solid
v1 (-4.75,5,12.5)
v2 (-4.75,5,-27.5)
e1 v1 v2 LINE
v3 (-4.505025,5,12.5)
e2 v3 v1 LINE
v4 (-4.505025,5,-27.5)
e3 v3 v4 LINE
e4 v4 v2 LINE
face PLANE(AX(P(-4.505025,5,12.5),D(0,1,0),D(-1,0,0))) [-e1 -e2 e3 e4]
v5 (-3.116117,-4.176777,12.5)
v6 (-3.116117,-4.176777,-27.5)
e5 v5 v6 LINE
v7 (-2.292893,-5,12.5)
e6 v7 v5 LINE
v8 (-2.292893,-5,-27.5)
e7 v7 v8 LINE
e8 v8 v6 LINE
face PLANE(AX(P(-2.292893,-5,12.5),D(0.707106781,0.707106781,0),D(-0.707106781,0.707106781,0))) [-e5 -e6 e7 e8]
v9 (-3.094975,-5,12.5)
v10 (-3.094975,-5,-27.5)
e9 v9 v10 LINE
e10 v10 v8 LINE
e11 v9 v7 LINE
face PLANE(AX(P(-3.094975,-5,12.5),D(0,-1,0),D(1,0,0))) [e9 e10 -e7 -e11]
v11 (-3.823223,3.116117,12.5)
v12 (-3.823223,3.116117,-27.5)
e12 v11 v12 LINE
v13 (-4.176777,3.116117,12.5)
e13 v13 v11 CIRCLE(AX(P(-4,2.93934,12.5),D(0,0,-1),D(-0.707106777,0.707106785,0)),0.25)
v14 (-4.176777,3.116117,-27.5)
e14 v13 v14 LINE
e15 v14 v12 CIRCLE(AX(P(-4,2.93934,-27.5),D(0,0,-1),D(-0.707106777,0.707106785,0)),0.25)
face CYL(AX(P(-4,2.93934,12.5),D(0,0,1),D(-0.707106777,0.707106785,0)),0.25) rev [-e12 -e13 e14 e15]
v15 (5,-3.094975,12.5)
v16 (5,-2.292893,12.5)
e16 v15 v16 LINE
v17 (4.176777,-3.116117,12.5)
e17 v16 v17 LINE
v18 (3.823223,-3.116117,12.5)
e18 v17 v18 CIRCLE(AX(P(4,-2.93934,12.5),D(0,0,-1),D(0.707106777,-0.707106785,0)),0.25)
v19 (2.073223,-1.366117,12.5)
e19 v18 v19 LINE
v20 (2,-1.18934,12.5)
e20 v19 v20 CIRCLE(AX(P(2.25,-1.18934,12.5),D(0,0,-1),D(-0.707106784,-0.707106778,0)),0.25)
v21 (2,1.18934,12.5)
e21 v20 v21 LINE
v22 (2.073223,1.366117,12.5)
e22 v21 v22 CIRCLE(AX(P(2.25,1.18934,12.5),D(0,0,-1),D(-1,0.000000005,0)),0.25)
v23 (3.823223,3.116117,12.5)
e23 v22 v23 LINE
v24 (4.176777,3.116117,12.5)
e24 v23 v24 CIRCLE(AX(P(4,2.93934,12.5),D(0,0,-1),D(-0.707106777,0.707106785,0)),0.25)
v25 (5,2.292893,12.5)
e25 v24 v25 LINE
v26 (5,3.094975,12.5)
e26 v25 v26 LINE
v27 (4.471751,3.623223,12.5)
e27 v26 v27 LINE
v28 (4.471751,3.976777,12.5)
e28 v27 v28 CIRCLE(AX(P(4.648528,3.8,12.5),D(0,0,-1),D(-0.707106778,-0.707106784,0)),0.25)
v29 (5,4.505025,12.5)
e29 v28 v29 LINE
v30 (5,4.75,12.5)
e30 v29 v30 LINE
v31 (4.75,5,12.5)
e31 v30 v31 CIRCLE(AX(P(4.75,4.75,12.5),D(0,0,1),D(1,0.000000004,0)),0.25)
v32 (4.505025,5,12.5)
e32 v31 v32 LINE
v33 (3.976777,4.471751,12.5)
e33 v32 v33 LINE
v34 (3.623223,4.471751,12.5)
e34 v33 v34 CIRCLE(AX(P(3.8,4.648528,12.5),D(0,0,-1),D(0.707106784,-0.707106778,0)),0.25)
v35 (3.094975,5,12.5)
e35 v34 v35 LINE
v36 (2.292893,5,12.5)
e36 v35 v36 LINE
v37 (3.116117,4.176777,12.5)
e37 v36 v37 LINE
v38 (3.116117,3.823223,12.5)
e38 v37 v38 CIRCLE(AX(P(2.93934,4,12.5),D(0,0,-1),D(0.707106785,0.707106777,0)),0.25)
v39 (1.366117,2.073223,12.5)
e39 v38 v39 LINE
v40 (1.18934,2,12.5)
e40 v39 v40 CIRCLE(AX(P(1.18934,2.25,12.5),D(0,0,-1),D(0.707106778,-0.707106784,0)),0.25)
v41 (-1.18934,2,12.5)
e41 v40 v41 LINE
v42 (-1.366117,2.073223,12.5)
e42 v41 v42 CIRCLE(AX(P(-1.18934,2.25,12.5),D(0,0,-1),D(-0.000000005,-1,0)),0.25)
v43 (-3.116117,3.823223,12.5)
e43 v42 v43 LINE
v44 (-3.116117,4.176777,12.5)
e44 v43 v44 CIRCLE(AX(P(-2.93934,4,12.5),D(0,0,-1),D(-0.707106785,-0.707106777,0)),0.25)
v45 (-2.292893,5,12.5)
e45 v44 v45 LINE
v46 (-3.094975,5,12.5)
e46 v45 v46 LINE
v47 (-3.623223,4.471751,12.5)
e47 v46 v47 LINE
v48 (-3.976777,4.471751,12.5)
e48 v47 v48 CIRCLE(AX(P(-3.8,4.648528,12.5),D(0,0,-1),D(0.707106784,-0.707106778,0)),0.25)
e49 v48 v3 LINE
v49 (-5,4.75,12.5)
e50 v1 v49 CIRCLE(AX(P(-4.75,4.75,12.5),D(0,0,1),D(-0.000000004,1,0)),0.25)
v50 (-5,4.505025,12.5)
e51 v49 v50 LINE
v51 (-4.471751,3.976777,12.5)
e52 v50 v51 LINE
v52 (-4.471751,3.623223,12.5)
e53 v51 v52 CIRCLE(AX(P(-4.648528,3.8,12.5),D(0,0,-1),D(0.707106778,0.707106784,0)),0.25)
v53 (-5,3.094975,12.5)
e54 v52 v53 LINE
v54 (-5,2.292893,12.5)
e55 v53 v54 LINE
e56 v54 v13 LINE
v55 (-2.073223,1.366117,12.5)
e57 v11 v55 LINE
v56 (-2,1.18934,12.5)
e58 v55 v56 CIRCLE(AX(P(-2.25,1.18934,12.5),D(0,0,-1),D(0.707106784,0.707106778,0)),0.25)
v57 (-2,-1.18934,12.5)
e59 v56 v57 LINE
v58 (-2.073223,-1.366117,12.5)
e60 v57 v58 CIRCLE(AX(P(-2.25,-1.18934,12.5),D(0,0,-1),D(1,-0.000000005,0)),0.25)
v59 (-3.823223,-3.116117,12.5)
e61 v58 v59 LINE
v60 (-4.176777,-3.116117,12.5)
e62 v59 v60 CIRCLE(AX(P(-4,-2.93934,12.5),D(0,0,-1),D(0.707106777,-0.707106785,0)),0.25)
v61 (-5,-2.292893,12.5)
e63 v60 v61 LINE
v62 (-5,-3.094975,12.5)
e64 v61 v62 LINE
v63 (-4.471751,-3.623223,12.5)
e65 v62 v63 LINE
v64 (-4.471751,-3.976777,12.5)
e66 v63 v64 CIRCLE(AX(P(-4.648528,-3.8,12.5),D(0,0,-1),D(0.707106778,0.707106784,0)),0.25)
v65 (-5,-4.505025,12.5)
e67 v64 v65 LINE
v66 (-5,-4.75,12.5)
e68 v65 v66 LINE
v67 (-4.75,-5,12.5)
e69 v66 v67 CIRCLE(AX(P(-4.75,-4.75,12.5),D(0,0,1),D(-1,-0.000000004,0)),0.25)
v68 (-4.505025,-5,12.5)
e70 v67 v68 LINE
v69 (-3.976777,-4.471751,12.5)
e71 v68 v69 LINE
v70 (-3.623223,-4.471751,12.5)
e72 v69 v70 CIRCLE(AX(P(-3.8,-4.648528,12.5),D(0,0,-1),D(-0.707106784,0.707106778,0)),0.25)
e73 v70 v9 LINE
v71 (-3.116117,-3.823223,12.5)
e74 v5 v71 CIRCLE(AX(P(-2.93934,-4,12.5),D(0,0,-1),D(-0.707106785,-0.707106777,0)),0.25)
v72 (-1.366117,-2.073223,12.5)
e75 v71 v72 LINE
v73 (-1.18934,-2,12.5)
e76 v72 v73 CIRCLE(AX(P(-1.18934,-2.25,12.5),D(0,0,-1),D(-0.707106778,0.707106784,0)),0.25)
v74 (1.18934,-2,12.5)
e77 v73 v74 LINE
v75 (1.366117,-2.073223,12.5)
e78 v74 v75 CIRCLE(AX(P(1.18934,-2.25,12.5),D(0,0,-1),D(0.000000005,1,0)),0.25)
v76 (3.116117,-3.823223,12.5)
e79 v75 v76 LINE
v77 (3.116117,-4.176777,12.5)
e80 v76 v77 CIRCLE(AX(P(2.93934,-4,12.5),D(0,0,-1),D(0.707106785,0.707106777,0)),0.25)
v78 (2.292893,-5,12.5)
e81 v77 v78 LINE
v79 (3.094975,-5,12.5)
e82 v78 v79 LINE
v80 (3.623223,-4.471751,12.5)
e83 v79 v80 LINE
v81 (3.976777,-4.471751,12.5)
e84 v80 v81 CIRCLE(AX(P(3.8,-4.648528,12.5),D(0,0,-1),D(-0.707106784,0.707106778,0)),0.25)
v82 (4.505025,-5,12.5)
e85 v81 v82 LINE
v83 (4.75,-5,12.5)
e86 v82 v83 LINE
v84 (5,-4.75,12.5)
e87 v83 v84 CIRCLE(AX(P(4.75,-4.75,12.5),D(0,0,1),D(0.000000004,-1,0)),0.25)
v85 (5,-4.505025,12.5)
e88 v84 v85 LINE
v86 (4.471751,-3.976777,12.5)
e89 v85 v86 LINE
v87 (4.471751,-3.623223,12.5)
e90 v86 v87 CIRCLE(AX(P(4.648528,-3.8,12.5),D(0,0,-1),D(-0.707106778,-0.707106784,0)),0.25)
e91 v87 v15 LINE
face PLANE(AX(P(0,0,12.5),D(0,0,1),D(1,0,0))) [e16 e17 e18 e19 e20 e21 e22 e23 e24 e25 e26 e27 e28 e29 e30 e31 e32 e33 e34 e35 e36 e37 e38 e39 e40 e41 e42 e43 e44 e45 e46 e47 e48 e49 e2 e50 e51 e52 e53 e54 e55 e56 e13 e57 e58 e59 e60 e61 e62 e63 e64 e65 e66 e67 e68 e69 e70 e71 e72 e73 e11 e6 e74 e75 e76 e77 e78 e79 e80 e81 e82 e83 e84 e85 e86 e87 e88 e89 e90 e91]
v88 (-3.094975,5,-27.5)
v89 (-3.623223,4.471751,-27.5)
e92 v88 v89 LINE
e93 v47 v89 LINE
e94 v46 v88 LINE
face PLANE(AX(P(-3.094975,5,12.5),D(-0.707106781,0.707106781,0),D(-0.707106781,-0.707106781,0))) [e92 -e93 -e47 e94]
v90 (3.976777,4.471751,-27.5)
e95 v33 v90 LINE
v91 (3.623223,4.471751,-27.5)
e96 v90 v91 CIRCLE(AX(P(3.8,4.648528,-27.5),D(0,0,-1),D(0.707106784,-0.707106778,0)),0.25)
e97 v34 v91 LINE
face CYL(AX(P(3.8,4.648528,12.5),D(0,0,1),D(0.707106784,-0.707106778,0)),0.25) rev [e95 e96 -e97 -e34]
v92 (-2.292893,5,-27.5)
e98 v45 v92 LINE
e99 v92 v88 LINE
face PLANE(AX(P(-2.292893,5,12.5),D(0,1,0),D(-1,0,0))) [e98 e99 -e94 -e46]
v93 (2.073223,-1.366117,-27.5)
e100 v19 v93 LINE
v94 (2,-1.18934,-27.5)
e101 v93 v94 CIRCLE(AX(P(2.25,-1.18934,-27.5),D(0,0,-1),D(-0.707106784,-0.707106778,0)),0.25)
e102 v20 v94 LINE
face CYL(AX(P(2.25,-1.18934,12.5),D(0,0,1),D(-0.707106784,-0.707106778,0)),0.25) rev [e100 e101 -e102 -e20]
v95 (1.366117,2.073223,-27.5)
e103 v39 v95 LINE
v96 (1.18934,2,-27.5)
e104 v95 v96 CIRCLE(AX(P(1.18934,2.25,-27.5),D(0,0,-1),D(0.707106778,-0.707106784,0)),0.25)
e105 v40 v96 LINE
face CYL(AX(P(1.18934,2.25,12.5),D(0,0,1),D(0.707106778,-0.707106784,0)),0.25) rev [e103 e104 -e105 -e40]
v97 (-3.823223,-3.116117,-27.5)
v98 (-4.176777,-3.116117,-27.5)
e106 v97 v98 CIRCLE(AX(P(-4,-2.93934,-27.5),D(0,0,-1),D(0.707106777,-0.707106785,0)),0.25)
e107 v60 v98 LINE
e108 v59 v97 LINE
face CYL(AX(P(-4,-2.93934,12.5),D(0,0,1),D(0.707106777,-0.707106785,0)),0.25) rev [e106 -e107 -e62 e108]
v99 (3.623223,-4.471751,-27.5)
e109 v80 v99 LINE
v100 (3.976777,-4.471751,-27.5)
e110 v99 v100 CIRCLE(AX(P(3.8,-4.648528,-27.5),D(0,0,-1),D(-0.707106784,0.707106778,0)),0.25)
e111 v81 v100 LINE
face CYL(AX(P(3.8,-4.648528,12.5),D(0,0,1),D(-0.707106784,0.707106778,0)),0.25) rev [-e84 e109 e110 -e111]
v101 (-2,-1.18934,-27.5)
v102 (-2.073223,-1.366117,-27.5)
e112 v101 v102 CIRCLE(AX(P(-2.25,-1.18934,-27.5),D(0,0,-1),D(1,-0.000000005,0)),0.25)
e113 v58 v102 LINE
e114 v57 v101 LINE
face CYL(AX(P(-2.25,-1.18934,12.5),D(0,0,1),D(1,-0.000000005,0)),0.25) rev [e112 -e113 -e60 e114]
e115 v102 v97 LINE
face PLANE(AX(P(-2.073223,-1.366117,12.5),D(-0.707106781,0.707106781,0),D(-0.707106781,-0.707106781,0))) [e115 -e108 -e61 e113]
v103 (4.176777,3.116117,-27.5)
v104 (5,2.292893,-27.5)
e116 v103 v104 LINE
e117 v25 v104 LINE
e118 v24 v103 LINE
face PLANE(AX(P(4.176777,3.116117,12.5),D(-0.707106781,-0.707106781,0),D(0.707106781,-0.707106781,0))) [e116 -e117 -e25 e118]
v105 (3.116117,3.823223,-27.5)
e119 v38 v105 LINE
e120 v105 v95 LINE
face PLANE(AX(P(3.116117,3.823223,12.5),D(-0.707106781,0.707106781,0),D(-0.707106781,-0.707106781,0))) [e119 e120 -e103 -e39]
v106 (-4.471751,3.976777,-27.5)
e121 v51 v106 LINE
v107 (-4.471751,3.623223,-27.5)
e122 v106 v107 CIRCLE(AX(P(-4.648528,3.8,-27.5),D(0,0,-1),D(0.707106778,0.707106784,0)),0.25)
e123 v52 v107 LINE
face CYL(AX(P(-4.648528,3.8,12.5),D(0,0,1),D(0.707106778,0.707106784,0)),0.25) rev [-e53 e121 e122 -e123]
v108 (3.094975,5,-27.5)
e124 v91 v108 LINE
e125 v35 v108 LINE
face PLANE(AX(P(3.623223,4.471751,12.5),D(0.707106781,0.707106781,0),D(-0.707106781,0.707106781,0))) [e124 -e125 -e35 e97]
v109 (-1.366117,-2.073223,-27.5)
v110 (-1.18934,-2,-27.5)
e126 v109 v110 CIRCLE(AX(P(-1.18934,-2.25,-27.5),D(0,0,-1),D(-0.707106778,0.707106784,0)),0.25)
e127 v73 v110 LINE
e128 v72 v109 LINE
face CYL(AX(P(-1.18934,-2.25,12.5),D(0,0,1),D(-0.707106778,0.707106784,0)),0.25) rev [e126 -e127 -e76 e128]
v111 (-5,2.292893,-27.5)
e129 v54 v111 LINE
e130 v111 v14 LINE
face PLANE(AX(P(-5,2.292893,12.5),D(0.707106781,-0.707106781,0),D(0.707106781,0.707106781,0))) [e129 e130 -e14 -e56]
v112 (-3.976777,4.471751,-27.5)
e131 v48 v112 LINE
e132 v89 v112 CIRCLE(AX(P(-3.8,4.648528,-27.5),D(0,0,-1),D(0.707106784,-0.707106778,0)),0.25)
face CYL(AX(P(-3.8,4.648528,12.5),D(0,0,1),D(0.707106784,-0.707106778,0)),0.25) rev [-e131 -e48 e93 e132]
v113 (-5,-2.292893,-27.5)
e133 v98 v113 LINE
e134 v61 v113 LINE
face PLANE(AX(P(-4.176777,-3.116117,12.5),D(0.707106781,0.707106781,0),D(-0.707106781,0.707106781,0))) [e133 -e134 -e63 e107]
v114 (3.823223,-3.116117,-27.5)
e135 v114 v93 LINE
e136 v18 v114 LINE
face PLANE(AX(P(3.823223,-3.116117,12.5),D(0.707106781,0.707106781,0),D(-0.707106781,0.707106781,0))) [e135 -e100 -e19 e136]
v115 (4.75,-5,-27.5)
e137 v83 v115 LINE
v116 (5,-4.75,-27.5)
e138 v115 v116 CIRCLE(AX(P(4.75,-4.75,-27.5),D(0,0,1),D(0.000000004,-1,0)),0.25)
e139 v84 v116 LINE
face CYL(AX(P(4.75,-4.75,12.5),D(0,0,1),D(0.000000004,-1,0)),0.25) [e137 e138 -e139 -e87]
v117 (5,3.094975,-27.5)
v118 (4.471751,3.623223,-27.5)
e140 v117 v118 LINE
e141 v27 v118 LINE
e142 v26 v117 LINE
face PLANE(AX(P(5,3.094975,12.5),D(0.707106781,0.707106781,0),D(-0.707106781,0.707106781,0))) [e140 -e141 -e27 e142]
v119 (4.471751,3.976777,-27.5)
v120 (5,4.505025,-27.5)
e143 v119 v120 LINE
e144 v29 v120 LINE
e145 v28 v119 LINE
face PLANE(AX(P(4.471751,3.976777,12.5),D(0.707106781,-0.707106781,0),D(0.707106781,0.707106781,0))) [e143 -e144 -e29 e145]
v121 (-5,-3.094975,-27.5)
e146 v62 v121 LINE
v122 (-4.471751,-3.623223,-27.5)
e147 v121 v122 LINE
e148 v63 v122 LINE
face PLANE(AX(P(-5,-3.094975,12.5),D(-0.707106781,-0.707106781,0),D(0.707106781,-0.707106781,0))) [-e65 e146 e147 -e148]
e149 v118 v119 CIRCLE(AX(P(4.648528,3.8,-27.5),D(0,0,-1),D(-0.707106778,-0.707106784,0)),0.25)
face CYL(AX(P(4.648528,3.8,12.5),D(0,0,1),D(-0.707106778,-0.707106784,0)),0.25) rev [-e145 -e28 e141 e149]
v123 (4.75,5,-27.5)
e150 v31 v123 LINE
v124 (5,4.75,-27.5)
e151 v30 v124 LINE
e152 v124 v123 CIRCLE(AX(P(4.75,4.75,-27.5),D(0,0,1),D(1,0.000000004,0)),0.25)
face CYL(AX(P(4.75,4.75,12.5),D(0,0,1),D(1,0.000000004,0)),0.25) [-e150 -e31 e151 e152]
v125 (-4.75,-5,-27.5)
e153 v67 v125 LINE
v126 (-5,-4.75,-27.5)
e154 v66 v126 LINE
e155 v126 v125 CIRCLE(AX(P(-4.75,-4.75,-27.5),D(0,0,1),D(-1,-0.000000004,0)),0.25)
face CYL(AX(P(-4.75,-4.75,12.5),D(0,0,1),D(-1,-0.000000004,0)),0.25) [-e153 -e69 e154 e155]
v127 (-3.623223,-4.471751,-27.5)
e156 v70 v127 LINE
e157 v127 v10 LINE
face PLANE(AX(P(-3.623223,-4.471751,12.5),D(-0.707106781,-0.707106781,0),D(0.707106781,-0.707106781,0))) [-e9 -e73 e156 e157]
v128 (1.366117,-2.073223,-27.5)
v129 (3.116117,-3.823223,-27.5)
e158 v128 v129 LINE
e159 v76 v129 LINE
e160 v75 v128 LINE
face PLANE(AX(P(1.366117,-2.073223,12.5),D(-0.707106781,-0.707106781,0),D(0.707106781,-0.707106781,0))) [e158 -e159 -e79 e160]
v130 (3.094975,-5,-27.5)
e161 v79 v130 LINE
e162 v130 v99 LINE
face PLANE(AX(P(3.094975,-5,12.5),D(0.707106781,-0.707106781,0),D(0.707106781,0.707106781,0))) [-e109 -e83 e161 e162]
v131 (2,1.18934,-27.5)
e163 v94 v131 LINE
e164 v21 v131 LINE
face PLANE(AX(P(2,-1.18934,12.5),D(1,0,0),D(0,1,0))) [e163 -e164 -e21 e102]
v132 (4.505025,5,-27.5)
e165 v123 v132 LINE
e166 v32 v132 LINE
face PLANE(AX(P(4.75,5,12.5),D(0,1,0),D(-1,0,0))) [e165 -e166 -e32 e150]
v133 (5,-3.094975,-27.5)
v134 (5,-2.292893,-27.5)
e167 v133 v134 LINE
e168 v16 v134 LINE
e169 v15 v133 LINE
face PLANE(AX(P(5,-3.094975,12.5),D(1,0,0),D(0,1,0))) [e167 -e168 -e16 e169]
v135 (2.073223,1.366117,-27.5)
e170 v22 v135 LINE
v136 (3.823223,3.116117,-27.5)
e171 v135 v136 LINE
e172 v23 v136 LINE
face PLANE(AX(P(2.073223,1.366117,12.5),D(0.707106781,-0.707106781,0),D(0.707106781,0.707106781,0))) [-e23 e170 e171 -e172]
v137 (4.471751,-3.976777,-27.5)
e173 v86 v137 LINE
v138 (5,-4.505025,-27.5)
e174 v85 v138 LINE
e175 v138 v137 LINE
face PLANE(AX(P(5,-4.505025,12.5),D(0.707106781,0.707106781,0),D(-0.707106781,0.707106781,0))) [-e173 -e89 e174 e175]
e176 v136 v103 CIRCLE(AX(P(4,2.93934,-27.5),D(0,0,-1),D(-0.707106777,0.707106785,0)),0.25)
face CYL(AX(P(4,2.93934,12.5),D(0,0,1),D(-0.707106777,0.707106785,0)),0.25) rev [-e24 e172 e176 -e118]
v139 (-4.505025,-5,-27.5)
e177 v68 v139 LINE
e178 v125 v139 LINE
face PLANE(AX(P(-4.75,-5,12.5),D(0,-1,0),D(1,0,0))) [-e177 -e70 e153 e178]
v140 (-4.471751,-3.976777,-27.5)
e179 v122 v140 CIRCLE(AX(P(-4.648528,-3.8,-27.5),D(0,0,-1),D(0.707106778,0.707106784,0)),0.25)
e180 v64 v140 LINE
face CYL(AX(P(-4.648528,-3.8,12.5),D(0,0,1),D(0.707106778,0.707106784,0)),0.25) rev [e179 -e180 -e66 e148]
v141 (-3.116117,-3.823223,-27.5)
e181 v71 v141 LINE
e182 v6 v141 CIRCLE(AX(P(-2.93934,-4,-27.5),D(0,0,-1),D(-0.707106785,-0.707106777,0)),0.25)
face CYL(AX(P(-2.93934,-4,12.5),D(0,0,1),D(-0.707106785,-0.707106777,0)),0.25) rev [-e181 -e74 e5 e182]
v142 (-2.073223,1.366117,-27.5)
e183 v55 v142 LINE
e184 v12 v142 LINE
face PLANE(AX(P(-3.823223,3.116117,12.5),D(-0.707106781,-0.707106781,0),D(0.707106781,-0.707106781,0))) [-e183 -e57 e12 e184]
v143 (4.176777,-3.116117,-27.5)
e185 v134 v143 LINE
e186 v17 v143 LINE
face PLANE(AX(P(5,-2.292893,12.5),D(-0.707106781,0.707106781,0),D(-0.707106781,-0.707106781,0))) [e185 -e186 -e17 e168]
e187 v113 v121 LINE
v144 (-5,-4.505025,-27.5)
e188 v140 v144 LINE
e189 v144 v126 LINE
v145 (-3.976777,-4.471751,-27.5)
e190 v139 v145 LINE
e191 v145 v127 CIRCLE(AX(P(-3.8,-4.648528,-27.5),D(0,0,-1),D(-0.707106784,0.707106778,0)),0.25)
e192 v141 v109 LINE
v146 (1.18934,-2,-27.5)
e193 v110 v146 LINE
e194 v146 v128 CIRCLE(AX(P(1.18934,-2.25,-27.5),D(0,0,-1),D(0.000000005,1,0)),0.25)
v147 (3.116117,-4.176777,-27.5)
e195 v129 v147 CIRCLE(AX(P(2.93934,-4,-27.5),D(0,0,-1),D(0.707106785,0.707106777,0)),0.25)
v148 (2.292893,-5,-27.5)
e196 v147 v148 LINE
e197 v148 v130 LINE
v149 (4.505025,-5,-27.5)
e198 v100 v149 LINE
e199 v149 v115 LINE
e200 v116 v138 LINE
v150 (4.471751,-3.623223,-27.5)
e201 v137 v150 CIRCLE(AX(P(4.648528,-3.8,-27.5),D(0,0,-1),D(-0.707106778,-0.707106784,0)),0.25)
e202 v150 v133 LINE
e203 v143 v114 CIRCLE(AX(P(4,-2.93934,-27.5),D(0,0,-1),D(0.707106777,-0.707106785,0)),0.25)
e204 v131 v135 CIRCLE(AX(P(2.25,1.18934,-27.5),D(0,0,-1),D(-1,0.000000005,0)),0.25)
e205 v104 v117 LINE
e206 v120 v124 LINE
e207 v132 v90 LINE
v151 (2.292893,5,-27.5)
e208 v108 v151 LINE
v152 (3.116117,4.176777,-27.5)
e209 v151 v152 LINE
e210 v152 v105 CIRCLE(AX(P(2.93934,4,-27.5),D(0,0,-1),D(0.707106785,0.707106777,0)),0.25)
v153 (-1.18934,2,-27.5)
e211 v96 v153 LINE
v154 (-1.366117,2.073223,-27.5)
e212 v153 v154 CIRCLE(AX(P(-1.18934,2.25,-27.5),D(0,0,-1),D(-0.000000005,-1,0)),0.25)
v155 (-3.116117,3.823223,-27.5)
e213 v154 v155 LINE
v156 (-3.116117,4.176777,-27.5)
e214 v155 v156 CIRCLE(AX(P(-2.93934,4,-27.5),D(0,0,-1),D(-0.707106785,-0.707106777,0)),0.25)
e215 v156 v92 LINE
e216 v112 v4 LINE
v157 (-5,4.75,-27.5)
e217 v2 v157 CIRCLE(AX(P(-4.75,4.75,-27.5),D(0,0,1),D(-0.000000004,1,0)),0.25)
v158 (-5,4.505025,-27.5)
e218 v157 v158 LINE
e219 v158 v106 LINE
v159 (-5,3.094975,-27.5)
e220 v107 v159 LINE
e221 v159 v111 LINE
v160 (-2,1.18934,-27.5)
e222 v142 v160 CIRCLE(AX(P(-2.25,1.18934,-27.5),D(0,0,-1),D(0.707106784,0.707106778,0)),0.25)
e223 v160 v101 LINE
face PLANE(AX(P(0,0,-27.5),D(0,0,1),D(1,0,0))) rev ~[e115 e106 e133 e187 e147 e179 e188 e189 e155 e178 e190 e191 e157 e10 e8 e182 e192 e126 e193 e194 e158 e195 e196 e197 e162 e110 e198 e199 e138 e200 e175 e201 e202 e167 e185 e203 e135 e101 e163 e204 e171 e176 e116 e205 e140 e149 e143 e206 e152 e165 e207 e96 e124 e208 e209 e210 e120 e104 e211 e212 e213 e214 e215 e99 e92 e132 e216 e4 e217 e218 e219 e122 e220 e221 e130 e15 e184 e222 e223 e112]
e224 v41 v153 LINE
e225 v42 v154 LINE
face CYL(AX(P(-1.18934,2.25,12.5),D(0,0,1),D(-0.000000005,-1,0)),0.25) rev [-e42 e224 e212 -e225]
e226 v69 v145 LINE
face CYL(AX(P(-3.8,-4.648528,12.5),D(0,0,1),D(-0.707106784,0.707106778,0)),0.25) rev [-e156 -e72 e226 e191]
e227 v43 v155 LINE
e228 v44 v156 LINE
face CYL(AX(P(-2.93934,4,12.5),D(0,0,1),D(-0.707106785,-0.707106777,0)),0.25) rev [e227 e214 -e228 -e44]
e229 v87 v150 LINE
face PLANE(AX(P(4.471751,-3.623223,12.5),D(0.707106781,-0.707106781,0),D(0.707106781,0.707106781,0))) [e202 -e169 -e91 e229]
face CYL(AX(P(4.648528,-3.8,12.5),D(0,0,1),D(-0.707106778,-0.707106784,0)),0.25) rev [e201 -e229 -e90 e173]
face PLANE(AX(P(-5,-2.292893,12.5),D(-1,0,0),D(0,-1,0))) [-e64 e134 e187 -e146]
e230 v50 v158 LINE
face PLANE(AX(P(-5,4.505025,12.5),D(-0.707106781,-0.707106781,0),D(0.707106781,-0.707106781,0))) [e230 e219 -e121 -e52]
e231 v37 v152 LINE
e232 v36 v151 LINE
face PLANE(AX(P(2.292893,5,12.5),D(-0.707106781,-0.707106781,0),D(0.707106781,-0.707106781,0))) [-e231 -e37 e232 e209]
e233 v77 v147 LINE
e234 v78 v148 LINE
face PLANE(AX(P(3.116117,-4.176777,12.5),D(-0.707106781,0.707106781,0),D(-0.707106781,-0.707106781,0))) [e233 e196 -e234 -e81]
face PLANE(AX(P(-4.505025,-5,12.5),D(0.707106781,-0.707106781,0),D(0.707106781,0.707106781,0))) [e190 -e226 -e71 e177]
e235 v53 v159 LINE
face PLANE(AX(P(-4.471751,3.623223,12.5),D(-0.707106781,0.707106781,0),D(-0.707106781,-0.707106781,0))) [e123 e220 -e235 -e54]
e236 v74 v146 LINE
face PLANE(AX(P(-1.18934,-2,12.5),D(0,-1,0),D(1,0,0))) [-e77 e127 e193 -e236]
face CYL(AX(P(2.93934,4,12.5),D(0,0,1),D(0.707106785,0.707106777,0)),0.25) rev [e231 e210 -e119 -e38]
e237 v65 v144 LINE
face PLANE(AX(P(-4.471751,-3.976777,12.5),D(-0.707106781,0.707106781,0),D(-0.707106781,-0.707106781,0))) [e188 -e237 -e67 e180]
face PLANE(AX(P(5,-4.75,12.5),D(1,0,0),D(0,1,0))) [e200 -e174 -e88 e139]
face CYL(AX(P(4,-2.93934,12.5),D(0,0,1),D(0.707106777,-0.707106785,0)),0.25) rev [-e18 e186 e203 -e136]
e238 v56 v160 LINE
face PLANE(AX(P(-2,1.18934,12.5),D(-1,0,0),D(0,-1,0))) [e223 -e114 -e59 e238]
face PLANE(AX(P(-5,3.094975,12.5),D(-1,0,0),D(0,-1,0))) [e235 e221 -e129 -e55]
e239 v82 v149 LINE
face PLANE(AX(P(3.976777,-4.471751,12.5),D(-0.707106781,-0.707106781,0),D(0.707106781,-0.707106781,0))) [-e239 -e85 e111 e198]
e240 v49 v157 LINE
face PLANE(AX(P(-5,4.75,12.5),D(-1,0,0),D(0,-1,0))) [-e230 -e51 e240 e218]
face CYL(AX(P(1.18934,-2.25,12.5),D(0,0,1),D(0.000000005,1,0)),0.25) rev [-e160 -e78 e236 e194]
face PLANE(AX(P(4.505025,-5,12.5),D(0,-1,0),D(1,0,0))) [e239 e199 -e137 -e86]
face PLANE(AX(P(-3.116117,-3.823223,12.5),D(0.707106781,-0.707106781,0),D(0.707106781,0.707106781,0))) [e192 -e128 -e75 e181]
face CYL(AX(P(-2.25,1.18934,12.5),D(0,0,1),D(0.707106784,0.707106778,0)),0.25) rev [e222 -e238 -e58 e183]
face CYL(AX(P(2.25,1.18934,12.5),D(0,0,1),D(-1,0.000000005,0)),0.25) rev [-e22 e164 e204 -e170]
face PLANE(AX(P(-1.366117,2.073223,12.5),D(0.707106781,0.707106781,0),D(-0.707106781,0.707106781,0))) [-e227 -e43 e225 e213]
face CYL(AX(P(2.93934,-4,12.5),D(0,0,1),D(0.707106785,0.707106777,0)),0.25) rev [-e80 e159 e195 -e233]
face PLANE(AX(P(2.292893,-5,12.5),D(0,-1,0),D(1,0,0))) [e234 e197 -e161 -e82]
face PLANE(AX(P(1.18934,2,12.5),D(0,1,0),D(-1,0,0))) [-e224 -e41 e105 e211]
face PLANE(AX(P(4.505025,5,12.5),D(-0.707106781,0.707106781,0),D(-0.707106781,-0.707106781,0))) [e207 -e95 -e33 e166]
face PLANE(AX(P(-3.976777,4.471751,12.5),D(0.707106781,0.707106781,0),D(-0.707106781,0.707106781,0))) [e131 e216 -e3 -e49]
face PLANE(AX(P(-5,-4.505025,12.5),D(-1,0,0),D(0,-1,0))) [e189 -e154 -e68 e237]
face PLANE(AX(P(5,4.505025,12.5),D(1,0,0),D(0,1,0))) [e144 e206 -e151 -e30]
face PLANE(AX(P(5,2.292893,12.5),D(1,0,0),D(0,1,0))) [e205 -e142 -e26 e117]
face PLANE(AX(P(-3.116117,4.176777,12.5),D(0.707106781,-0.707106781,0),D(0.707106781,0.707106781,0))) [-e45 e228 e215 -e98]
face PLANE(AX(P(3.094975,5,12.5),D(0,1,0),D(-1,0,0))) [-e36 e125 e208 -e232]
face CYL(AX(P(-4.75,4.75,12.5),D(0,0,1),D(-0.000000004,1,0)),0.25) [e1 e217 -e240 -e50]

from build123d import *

# Parameters (mm, degrees)
BOSS_EXTRUDE1_DEPTH = 40


with BuildPart() as part:
    # Sketch1 → Boss-Extrude1 (new body)
    with BuildSketch(Plane.XY.offset(12.5)):
        with BuildLine():
            Line((1.189339828, 2), (-1.189339828, 2))
            ThreePointArc((-1.189339828, 2), (-1.285010686, 2.019030117), (-1.366116524, 2.073223305))
            Line((-1.366116524, 2.073223305), (-3.116116524, 3.823223305))
            ThreePointArc((-3.116116524, 3.823223305), (-3.189339828, 4), (-3.116116524, 4.176776695))
            Line((-3.116116524, 4.176776695), (-2.292893219, 5))
            Line((-2.292893219, 5), (-3.094974747, 5))
            Line((-3.094974747, 5), (-3.623223305, 4.471751442))
            ThreePointArc((-3.623223305, 4.471751442), (-3.8, 4.398528137), (-3.976776695, 4.471751442))
            Line((-3.976776695, 4.471751442), (-4.505025253, 5))
            Line((-4.505025253, 5), (-4.75, 5))
            ThreePointArc((-4.75, 5), (-4.926776695, 4.926776695), (-5, 4.75))
            Line((-5, 4.75), (-5, 4.505025253))
            Line((-5, 4.505025253), (-4.471751442, 3.976776695))
            ThreePointArc((-4.471751442, 3.976776695), (-4.398528137, 3.8), (-4.471751442, 3.623223305))
            Line((-4.471751442, 3.623223305), (-5, 3.094974747))
            Line((-5, 3.094974747), (-5, 2.292893219))
            Line((-5, 2.292893219), (-4.176776695, 3.116116524))
            ThreePointArc((-4.176776695, 3.116116524), (-4, 3.189339828), (-3.823223305, 3.116116524))
            Line((-3.823223305, 3.116116524), (-2.073223305, 1.366116524))
            ThreePointArc((-2.073223305, 1.366116524), (-2.019030117, 1.285010686), (-2, 1.189339828))
            Line((-2, 1.189339828), (-2, -1.189339828))
            ThreePointArc((-2, -1.189339828), (-2.019030117, -1.285010686), (-2.073223305, -1.366116524))
            Line((-2.073223305, -1.366116524), (-3.823223305, -3.116116524))
            ThreePointArc((-3.823223305, -3.116116524), (-4, -3.189339828), (-4.176776695, -3.116116524))
            Line((-4.176776695, -3.116116524), (-5, -2.292893219))
            Line((-5, -2.292893219), (-5, -3.094974747))
            Line((-5, -3.094974747), (-4.471751442, -3.623223305))
            ThreePointArc((-4.471751442, -3.623223305), (-4.398528137, -3.8), (-4.471751442, -3.976776695))
            Line((-4.471751442, -3.976776695), (-5, -4.505025253))
            Line((-5, -4.505025253), (-5, -4.75))
            ThreePointArc((-5, -4.75), (-4.926776695, -4.926776695), (-4.75, -5))
            Line((-4.75, -5), (-4.505025253, -5))
            Line((-4.505025253, -5), (-3.976776695, -4.471751442))
            ThreePointArc((-3.976776695, -4.471751442), (-3.8, -4.398528137), (-3.623223305, -4.471751442))
            Line((-3.623223305, -4.471751442), (-3.094974747, -5))
            Line((-3.094974747, -5), (-2.292893219, -5))
            Line((-2.292893219, -5), (-3.116116524, -4.176776695))
            ThreePointArc((-3.116116524, -4.176776695), (-3.189339828, -4), (-3.116116524, -3.823223305))
            Line((-3.116116524, -3.823223305), (-1.366116524, -2.073223305))
            ThreePointArc((-1.366116524, -2.073223305), (-1.285010686, -2.019030117), (-1.189339828, -2))
            Line((-1.189339828, -2), (1.189339828, -2))
            ThreePointArc((1.189339828, -2), (1.285010686, -2.019030117), (1.366116524, -2.073223305))
            Line((1.366116524, -2.073223305), (3.116116524, -3.823223305))
            ThreePointArc((3.116116524, -3.823223305), (3.189339828, -4), (3.116116524, -4.176776695))
            Line((3.116116524, -4.176776695), (2.292893219, -5))
            Line((2.292893219, -5), (3.094974747, -5))
            Line((3.094974747, -5), (3.623223305, -4.471751442))
            ThreePointArc((3.623223305, -4.471751442), (3.8, -4.398528137), (3.976776695, -4.471751442))
            Line((3.976776695, -4.471751442), (4.505025253, -5))
            Line((4.505025253, -5), (4.75, -5))
            ThreePointArc((4.75, -5), (4.926776695, -4.926776695), (5, -4.75))
            Line((5, -4.75), (5, -4.505025253))
            Line((5, -4.505025253), (4.471751442, -3.976776695))
            ThreePointArc((4.471751442, -3.976776695), (4.398528137, -3.8), (4.471751442, -3.623223305))
            Line((4.471751442, -3.623223305), (5, -3.094974747))
            Line((5, -3.094974747), (5, -2.292893219))
            Line((5, -2.292893219), (4.176776695, -3.116116524))
            ThreePointArc((4.176776695, -3.116116524), (4, -3.189339828), (3.823223305, -3.116116524))
            Line((3.823223305, -3.116116524), (2.073223305, -1.366116524))
            ThreePointArc((2.073223305, -1.366116524), (2.019030117, -1.285010686), (2, -1.189339828))
            Line((2, -1.189339828), (2, 1.189339828))
            ThreePointArc((2, 1.189339828), (2.019030117, 1.285010686), (2.073223305, 1.366116524))
            Line((2.073223305, 1.366116524), (3.823223305, 3.116116524))
            ThreePointArc((3.823223305, 3.116116524), (4, 3.189339828), (4.176776695, 3.116116524))
            Line((4.176776695, 3.116116524), (5, 2.292893219))
            Line((5, 2.292893219), (5, 3.094974747))
            Line((5, 3.094974747), (4.471751442, 3.623223305))
            ThreePointArc((4.471751442, 3.623223305), (4.398528137, 3.8), (4.471751442, 3.976776695))
            Line((4.471751442, 3.976776695), (5, 4.505025253))
            Line((5, 4.505025253), (5, 4.75))
            ThreePointArc((5, 4.75), (4.926776695, 4.926776695), (4.75, 5))
            Line((4.75, 5), (4.505025253, 5))
            Line((4.505025253, 5), (3.976776695, 4.471751442))
            ThreePointArc((3.976776695, 4.471751442), (3.8, 4.398528137), (3.623223305, 4.471751442))
            Line((3.623223305, 4.471751442), (3.094974747, 5))
            Line((3.094974747, 5), (2.292893219, 5))
            Line((2.292893219, 5), (3.116116524, 4.176776695))
            ThreePointArc((3.116116524, 4.176776695), (3.189339828, 4), (3.116116524, 3.823223305))
            Line((3.116116524, 3.823223305), (1.366116524, 2.073223305))
            ThreePointArc((1.366116524, 2.073223305), (1.285010686, 2.019030117), (1.189339828, 2))
        make_face()
    extrude(amount=-BOSS_EXTRUDE1_DEPTH)


solid = part.part
